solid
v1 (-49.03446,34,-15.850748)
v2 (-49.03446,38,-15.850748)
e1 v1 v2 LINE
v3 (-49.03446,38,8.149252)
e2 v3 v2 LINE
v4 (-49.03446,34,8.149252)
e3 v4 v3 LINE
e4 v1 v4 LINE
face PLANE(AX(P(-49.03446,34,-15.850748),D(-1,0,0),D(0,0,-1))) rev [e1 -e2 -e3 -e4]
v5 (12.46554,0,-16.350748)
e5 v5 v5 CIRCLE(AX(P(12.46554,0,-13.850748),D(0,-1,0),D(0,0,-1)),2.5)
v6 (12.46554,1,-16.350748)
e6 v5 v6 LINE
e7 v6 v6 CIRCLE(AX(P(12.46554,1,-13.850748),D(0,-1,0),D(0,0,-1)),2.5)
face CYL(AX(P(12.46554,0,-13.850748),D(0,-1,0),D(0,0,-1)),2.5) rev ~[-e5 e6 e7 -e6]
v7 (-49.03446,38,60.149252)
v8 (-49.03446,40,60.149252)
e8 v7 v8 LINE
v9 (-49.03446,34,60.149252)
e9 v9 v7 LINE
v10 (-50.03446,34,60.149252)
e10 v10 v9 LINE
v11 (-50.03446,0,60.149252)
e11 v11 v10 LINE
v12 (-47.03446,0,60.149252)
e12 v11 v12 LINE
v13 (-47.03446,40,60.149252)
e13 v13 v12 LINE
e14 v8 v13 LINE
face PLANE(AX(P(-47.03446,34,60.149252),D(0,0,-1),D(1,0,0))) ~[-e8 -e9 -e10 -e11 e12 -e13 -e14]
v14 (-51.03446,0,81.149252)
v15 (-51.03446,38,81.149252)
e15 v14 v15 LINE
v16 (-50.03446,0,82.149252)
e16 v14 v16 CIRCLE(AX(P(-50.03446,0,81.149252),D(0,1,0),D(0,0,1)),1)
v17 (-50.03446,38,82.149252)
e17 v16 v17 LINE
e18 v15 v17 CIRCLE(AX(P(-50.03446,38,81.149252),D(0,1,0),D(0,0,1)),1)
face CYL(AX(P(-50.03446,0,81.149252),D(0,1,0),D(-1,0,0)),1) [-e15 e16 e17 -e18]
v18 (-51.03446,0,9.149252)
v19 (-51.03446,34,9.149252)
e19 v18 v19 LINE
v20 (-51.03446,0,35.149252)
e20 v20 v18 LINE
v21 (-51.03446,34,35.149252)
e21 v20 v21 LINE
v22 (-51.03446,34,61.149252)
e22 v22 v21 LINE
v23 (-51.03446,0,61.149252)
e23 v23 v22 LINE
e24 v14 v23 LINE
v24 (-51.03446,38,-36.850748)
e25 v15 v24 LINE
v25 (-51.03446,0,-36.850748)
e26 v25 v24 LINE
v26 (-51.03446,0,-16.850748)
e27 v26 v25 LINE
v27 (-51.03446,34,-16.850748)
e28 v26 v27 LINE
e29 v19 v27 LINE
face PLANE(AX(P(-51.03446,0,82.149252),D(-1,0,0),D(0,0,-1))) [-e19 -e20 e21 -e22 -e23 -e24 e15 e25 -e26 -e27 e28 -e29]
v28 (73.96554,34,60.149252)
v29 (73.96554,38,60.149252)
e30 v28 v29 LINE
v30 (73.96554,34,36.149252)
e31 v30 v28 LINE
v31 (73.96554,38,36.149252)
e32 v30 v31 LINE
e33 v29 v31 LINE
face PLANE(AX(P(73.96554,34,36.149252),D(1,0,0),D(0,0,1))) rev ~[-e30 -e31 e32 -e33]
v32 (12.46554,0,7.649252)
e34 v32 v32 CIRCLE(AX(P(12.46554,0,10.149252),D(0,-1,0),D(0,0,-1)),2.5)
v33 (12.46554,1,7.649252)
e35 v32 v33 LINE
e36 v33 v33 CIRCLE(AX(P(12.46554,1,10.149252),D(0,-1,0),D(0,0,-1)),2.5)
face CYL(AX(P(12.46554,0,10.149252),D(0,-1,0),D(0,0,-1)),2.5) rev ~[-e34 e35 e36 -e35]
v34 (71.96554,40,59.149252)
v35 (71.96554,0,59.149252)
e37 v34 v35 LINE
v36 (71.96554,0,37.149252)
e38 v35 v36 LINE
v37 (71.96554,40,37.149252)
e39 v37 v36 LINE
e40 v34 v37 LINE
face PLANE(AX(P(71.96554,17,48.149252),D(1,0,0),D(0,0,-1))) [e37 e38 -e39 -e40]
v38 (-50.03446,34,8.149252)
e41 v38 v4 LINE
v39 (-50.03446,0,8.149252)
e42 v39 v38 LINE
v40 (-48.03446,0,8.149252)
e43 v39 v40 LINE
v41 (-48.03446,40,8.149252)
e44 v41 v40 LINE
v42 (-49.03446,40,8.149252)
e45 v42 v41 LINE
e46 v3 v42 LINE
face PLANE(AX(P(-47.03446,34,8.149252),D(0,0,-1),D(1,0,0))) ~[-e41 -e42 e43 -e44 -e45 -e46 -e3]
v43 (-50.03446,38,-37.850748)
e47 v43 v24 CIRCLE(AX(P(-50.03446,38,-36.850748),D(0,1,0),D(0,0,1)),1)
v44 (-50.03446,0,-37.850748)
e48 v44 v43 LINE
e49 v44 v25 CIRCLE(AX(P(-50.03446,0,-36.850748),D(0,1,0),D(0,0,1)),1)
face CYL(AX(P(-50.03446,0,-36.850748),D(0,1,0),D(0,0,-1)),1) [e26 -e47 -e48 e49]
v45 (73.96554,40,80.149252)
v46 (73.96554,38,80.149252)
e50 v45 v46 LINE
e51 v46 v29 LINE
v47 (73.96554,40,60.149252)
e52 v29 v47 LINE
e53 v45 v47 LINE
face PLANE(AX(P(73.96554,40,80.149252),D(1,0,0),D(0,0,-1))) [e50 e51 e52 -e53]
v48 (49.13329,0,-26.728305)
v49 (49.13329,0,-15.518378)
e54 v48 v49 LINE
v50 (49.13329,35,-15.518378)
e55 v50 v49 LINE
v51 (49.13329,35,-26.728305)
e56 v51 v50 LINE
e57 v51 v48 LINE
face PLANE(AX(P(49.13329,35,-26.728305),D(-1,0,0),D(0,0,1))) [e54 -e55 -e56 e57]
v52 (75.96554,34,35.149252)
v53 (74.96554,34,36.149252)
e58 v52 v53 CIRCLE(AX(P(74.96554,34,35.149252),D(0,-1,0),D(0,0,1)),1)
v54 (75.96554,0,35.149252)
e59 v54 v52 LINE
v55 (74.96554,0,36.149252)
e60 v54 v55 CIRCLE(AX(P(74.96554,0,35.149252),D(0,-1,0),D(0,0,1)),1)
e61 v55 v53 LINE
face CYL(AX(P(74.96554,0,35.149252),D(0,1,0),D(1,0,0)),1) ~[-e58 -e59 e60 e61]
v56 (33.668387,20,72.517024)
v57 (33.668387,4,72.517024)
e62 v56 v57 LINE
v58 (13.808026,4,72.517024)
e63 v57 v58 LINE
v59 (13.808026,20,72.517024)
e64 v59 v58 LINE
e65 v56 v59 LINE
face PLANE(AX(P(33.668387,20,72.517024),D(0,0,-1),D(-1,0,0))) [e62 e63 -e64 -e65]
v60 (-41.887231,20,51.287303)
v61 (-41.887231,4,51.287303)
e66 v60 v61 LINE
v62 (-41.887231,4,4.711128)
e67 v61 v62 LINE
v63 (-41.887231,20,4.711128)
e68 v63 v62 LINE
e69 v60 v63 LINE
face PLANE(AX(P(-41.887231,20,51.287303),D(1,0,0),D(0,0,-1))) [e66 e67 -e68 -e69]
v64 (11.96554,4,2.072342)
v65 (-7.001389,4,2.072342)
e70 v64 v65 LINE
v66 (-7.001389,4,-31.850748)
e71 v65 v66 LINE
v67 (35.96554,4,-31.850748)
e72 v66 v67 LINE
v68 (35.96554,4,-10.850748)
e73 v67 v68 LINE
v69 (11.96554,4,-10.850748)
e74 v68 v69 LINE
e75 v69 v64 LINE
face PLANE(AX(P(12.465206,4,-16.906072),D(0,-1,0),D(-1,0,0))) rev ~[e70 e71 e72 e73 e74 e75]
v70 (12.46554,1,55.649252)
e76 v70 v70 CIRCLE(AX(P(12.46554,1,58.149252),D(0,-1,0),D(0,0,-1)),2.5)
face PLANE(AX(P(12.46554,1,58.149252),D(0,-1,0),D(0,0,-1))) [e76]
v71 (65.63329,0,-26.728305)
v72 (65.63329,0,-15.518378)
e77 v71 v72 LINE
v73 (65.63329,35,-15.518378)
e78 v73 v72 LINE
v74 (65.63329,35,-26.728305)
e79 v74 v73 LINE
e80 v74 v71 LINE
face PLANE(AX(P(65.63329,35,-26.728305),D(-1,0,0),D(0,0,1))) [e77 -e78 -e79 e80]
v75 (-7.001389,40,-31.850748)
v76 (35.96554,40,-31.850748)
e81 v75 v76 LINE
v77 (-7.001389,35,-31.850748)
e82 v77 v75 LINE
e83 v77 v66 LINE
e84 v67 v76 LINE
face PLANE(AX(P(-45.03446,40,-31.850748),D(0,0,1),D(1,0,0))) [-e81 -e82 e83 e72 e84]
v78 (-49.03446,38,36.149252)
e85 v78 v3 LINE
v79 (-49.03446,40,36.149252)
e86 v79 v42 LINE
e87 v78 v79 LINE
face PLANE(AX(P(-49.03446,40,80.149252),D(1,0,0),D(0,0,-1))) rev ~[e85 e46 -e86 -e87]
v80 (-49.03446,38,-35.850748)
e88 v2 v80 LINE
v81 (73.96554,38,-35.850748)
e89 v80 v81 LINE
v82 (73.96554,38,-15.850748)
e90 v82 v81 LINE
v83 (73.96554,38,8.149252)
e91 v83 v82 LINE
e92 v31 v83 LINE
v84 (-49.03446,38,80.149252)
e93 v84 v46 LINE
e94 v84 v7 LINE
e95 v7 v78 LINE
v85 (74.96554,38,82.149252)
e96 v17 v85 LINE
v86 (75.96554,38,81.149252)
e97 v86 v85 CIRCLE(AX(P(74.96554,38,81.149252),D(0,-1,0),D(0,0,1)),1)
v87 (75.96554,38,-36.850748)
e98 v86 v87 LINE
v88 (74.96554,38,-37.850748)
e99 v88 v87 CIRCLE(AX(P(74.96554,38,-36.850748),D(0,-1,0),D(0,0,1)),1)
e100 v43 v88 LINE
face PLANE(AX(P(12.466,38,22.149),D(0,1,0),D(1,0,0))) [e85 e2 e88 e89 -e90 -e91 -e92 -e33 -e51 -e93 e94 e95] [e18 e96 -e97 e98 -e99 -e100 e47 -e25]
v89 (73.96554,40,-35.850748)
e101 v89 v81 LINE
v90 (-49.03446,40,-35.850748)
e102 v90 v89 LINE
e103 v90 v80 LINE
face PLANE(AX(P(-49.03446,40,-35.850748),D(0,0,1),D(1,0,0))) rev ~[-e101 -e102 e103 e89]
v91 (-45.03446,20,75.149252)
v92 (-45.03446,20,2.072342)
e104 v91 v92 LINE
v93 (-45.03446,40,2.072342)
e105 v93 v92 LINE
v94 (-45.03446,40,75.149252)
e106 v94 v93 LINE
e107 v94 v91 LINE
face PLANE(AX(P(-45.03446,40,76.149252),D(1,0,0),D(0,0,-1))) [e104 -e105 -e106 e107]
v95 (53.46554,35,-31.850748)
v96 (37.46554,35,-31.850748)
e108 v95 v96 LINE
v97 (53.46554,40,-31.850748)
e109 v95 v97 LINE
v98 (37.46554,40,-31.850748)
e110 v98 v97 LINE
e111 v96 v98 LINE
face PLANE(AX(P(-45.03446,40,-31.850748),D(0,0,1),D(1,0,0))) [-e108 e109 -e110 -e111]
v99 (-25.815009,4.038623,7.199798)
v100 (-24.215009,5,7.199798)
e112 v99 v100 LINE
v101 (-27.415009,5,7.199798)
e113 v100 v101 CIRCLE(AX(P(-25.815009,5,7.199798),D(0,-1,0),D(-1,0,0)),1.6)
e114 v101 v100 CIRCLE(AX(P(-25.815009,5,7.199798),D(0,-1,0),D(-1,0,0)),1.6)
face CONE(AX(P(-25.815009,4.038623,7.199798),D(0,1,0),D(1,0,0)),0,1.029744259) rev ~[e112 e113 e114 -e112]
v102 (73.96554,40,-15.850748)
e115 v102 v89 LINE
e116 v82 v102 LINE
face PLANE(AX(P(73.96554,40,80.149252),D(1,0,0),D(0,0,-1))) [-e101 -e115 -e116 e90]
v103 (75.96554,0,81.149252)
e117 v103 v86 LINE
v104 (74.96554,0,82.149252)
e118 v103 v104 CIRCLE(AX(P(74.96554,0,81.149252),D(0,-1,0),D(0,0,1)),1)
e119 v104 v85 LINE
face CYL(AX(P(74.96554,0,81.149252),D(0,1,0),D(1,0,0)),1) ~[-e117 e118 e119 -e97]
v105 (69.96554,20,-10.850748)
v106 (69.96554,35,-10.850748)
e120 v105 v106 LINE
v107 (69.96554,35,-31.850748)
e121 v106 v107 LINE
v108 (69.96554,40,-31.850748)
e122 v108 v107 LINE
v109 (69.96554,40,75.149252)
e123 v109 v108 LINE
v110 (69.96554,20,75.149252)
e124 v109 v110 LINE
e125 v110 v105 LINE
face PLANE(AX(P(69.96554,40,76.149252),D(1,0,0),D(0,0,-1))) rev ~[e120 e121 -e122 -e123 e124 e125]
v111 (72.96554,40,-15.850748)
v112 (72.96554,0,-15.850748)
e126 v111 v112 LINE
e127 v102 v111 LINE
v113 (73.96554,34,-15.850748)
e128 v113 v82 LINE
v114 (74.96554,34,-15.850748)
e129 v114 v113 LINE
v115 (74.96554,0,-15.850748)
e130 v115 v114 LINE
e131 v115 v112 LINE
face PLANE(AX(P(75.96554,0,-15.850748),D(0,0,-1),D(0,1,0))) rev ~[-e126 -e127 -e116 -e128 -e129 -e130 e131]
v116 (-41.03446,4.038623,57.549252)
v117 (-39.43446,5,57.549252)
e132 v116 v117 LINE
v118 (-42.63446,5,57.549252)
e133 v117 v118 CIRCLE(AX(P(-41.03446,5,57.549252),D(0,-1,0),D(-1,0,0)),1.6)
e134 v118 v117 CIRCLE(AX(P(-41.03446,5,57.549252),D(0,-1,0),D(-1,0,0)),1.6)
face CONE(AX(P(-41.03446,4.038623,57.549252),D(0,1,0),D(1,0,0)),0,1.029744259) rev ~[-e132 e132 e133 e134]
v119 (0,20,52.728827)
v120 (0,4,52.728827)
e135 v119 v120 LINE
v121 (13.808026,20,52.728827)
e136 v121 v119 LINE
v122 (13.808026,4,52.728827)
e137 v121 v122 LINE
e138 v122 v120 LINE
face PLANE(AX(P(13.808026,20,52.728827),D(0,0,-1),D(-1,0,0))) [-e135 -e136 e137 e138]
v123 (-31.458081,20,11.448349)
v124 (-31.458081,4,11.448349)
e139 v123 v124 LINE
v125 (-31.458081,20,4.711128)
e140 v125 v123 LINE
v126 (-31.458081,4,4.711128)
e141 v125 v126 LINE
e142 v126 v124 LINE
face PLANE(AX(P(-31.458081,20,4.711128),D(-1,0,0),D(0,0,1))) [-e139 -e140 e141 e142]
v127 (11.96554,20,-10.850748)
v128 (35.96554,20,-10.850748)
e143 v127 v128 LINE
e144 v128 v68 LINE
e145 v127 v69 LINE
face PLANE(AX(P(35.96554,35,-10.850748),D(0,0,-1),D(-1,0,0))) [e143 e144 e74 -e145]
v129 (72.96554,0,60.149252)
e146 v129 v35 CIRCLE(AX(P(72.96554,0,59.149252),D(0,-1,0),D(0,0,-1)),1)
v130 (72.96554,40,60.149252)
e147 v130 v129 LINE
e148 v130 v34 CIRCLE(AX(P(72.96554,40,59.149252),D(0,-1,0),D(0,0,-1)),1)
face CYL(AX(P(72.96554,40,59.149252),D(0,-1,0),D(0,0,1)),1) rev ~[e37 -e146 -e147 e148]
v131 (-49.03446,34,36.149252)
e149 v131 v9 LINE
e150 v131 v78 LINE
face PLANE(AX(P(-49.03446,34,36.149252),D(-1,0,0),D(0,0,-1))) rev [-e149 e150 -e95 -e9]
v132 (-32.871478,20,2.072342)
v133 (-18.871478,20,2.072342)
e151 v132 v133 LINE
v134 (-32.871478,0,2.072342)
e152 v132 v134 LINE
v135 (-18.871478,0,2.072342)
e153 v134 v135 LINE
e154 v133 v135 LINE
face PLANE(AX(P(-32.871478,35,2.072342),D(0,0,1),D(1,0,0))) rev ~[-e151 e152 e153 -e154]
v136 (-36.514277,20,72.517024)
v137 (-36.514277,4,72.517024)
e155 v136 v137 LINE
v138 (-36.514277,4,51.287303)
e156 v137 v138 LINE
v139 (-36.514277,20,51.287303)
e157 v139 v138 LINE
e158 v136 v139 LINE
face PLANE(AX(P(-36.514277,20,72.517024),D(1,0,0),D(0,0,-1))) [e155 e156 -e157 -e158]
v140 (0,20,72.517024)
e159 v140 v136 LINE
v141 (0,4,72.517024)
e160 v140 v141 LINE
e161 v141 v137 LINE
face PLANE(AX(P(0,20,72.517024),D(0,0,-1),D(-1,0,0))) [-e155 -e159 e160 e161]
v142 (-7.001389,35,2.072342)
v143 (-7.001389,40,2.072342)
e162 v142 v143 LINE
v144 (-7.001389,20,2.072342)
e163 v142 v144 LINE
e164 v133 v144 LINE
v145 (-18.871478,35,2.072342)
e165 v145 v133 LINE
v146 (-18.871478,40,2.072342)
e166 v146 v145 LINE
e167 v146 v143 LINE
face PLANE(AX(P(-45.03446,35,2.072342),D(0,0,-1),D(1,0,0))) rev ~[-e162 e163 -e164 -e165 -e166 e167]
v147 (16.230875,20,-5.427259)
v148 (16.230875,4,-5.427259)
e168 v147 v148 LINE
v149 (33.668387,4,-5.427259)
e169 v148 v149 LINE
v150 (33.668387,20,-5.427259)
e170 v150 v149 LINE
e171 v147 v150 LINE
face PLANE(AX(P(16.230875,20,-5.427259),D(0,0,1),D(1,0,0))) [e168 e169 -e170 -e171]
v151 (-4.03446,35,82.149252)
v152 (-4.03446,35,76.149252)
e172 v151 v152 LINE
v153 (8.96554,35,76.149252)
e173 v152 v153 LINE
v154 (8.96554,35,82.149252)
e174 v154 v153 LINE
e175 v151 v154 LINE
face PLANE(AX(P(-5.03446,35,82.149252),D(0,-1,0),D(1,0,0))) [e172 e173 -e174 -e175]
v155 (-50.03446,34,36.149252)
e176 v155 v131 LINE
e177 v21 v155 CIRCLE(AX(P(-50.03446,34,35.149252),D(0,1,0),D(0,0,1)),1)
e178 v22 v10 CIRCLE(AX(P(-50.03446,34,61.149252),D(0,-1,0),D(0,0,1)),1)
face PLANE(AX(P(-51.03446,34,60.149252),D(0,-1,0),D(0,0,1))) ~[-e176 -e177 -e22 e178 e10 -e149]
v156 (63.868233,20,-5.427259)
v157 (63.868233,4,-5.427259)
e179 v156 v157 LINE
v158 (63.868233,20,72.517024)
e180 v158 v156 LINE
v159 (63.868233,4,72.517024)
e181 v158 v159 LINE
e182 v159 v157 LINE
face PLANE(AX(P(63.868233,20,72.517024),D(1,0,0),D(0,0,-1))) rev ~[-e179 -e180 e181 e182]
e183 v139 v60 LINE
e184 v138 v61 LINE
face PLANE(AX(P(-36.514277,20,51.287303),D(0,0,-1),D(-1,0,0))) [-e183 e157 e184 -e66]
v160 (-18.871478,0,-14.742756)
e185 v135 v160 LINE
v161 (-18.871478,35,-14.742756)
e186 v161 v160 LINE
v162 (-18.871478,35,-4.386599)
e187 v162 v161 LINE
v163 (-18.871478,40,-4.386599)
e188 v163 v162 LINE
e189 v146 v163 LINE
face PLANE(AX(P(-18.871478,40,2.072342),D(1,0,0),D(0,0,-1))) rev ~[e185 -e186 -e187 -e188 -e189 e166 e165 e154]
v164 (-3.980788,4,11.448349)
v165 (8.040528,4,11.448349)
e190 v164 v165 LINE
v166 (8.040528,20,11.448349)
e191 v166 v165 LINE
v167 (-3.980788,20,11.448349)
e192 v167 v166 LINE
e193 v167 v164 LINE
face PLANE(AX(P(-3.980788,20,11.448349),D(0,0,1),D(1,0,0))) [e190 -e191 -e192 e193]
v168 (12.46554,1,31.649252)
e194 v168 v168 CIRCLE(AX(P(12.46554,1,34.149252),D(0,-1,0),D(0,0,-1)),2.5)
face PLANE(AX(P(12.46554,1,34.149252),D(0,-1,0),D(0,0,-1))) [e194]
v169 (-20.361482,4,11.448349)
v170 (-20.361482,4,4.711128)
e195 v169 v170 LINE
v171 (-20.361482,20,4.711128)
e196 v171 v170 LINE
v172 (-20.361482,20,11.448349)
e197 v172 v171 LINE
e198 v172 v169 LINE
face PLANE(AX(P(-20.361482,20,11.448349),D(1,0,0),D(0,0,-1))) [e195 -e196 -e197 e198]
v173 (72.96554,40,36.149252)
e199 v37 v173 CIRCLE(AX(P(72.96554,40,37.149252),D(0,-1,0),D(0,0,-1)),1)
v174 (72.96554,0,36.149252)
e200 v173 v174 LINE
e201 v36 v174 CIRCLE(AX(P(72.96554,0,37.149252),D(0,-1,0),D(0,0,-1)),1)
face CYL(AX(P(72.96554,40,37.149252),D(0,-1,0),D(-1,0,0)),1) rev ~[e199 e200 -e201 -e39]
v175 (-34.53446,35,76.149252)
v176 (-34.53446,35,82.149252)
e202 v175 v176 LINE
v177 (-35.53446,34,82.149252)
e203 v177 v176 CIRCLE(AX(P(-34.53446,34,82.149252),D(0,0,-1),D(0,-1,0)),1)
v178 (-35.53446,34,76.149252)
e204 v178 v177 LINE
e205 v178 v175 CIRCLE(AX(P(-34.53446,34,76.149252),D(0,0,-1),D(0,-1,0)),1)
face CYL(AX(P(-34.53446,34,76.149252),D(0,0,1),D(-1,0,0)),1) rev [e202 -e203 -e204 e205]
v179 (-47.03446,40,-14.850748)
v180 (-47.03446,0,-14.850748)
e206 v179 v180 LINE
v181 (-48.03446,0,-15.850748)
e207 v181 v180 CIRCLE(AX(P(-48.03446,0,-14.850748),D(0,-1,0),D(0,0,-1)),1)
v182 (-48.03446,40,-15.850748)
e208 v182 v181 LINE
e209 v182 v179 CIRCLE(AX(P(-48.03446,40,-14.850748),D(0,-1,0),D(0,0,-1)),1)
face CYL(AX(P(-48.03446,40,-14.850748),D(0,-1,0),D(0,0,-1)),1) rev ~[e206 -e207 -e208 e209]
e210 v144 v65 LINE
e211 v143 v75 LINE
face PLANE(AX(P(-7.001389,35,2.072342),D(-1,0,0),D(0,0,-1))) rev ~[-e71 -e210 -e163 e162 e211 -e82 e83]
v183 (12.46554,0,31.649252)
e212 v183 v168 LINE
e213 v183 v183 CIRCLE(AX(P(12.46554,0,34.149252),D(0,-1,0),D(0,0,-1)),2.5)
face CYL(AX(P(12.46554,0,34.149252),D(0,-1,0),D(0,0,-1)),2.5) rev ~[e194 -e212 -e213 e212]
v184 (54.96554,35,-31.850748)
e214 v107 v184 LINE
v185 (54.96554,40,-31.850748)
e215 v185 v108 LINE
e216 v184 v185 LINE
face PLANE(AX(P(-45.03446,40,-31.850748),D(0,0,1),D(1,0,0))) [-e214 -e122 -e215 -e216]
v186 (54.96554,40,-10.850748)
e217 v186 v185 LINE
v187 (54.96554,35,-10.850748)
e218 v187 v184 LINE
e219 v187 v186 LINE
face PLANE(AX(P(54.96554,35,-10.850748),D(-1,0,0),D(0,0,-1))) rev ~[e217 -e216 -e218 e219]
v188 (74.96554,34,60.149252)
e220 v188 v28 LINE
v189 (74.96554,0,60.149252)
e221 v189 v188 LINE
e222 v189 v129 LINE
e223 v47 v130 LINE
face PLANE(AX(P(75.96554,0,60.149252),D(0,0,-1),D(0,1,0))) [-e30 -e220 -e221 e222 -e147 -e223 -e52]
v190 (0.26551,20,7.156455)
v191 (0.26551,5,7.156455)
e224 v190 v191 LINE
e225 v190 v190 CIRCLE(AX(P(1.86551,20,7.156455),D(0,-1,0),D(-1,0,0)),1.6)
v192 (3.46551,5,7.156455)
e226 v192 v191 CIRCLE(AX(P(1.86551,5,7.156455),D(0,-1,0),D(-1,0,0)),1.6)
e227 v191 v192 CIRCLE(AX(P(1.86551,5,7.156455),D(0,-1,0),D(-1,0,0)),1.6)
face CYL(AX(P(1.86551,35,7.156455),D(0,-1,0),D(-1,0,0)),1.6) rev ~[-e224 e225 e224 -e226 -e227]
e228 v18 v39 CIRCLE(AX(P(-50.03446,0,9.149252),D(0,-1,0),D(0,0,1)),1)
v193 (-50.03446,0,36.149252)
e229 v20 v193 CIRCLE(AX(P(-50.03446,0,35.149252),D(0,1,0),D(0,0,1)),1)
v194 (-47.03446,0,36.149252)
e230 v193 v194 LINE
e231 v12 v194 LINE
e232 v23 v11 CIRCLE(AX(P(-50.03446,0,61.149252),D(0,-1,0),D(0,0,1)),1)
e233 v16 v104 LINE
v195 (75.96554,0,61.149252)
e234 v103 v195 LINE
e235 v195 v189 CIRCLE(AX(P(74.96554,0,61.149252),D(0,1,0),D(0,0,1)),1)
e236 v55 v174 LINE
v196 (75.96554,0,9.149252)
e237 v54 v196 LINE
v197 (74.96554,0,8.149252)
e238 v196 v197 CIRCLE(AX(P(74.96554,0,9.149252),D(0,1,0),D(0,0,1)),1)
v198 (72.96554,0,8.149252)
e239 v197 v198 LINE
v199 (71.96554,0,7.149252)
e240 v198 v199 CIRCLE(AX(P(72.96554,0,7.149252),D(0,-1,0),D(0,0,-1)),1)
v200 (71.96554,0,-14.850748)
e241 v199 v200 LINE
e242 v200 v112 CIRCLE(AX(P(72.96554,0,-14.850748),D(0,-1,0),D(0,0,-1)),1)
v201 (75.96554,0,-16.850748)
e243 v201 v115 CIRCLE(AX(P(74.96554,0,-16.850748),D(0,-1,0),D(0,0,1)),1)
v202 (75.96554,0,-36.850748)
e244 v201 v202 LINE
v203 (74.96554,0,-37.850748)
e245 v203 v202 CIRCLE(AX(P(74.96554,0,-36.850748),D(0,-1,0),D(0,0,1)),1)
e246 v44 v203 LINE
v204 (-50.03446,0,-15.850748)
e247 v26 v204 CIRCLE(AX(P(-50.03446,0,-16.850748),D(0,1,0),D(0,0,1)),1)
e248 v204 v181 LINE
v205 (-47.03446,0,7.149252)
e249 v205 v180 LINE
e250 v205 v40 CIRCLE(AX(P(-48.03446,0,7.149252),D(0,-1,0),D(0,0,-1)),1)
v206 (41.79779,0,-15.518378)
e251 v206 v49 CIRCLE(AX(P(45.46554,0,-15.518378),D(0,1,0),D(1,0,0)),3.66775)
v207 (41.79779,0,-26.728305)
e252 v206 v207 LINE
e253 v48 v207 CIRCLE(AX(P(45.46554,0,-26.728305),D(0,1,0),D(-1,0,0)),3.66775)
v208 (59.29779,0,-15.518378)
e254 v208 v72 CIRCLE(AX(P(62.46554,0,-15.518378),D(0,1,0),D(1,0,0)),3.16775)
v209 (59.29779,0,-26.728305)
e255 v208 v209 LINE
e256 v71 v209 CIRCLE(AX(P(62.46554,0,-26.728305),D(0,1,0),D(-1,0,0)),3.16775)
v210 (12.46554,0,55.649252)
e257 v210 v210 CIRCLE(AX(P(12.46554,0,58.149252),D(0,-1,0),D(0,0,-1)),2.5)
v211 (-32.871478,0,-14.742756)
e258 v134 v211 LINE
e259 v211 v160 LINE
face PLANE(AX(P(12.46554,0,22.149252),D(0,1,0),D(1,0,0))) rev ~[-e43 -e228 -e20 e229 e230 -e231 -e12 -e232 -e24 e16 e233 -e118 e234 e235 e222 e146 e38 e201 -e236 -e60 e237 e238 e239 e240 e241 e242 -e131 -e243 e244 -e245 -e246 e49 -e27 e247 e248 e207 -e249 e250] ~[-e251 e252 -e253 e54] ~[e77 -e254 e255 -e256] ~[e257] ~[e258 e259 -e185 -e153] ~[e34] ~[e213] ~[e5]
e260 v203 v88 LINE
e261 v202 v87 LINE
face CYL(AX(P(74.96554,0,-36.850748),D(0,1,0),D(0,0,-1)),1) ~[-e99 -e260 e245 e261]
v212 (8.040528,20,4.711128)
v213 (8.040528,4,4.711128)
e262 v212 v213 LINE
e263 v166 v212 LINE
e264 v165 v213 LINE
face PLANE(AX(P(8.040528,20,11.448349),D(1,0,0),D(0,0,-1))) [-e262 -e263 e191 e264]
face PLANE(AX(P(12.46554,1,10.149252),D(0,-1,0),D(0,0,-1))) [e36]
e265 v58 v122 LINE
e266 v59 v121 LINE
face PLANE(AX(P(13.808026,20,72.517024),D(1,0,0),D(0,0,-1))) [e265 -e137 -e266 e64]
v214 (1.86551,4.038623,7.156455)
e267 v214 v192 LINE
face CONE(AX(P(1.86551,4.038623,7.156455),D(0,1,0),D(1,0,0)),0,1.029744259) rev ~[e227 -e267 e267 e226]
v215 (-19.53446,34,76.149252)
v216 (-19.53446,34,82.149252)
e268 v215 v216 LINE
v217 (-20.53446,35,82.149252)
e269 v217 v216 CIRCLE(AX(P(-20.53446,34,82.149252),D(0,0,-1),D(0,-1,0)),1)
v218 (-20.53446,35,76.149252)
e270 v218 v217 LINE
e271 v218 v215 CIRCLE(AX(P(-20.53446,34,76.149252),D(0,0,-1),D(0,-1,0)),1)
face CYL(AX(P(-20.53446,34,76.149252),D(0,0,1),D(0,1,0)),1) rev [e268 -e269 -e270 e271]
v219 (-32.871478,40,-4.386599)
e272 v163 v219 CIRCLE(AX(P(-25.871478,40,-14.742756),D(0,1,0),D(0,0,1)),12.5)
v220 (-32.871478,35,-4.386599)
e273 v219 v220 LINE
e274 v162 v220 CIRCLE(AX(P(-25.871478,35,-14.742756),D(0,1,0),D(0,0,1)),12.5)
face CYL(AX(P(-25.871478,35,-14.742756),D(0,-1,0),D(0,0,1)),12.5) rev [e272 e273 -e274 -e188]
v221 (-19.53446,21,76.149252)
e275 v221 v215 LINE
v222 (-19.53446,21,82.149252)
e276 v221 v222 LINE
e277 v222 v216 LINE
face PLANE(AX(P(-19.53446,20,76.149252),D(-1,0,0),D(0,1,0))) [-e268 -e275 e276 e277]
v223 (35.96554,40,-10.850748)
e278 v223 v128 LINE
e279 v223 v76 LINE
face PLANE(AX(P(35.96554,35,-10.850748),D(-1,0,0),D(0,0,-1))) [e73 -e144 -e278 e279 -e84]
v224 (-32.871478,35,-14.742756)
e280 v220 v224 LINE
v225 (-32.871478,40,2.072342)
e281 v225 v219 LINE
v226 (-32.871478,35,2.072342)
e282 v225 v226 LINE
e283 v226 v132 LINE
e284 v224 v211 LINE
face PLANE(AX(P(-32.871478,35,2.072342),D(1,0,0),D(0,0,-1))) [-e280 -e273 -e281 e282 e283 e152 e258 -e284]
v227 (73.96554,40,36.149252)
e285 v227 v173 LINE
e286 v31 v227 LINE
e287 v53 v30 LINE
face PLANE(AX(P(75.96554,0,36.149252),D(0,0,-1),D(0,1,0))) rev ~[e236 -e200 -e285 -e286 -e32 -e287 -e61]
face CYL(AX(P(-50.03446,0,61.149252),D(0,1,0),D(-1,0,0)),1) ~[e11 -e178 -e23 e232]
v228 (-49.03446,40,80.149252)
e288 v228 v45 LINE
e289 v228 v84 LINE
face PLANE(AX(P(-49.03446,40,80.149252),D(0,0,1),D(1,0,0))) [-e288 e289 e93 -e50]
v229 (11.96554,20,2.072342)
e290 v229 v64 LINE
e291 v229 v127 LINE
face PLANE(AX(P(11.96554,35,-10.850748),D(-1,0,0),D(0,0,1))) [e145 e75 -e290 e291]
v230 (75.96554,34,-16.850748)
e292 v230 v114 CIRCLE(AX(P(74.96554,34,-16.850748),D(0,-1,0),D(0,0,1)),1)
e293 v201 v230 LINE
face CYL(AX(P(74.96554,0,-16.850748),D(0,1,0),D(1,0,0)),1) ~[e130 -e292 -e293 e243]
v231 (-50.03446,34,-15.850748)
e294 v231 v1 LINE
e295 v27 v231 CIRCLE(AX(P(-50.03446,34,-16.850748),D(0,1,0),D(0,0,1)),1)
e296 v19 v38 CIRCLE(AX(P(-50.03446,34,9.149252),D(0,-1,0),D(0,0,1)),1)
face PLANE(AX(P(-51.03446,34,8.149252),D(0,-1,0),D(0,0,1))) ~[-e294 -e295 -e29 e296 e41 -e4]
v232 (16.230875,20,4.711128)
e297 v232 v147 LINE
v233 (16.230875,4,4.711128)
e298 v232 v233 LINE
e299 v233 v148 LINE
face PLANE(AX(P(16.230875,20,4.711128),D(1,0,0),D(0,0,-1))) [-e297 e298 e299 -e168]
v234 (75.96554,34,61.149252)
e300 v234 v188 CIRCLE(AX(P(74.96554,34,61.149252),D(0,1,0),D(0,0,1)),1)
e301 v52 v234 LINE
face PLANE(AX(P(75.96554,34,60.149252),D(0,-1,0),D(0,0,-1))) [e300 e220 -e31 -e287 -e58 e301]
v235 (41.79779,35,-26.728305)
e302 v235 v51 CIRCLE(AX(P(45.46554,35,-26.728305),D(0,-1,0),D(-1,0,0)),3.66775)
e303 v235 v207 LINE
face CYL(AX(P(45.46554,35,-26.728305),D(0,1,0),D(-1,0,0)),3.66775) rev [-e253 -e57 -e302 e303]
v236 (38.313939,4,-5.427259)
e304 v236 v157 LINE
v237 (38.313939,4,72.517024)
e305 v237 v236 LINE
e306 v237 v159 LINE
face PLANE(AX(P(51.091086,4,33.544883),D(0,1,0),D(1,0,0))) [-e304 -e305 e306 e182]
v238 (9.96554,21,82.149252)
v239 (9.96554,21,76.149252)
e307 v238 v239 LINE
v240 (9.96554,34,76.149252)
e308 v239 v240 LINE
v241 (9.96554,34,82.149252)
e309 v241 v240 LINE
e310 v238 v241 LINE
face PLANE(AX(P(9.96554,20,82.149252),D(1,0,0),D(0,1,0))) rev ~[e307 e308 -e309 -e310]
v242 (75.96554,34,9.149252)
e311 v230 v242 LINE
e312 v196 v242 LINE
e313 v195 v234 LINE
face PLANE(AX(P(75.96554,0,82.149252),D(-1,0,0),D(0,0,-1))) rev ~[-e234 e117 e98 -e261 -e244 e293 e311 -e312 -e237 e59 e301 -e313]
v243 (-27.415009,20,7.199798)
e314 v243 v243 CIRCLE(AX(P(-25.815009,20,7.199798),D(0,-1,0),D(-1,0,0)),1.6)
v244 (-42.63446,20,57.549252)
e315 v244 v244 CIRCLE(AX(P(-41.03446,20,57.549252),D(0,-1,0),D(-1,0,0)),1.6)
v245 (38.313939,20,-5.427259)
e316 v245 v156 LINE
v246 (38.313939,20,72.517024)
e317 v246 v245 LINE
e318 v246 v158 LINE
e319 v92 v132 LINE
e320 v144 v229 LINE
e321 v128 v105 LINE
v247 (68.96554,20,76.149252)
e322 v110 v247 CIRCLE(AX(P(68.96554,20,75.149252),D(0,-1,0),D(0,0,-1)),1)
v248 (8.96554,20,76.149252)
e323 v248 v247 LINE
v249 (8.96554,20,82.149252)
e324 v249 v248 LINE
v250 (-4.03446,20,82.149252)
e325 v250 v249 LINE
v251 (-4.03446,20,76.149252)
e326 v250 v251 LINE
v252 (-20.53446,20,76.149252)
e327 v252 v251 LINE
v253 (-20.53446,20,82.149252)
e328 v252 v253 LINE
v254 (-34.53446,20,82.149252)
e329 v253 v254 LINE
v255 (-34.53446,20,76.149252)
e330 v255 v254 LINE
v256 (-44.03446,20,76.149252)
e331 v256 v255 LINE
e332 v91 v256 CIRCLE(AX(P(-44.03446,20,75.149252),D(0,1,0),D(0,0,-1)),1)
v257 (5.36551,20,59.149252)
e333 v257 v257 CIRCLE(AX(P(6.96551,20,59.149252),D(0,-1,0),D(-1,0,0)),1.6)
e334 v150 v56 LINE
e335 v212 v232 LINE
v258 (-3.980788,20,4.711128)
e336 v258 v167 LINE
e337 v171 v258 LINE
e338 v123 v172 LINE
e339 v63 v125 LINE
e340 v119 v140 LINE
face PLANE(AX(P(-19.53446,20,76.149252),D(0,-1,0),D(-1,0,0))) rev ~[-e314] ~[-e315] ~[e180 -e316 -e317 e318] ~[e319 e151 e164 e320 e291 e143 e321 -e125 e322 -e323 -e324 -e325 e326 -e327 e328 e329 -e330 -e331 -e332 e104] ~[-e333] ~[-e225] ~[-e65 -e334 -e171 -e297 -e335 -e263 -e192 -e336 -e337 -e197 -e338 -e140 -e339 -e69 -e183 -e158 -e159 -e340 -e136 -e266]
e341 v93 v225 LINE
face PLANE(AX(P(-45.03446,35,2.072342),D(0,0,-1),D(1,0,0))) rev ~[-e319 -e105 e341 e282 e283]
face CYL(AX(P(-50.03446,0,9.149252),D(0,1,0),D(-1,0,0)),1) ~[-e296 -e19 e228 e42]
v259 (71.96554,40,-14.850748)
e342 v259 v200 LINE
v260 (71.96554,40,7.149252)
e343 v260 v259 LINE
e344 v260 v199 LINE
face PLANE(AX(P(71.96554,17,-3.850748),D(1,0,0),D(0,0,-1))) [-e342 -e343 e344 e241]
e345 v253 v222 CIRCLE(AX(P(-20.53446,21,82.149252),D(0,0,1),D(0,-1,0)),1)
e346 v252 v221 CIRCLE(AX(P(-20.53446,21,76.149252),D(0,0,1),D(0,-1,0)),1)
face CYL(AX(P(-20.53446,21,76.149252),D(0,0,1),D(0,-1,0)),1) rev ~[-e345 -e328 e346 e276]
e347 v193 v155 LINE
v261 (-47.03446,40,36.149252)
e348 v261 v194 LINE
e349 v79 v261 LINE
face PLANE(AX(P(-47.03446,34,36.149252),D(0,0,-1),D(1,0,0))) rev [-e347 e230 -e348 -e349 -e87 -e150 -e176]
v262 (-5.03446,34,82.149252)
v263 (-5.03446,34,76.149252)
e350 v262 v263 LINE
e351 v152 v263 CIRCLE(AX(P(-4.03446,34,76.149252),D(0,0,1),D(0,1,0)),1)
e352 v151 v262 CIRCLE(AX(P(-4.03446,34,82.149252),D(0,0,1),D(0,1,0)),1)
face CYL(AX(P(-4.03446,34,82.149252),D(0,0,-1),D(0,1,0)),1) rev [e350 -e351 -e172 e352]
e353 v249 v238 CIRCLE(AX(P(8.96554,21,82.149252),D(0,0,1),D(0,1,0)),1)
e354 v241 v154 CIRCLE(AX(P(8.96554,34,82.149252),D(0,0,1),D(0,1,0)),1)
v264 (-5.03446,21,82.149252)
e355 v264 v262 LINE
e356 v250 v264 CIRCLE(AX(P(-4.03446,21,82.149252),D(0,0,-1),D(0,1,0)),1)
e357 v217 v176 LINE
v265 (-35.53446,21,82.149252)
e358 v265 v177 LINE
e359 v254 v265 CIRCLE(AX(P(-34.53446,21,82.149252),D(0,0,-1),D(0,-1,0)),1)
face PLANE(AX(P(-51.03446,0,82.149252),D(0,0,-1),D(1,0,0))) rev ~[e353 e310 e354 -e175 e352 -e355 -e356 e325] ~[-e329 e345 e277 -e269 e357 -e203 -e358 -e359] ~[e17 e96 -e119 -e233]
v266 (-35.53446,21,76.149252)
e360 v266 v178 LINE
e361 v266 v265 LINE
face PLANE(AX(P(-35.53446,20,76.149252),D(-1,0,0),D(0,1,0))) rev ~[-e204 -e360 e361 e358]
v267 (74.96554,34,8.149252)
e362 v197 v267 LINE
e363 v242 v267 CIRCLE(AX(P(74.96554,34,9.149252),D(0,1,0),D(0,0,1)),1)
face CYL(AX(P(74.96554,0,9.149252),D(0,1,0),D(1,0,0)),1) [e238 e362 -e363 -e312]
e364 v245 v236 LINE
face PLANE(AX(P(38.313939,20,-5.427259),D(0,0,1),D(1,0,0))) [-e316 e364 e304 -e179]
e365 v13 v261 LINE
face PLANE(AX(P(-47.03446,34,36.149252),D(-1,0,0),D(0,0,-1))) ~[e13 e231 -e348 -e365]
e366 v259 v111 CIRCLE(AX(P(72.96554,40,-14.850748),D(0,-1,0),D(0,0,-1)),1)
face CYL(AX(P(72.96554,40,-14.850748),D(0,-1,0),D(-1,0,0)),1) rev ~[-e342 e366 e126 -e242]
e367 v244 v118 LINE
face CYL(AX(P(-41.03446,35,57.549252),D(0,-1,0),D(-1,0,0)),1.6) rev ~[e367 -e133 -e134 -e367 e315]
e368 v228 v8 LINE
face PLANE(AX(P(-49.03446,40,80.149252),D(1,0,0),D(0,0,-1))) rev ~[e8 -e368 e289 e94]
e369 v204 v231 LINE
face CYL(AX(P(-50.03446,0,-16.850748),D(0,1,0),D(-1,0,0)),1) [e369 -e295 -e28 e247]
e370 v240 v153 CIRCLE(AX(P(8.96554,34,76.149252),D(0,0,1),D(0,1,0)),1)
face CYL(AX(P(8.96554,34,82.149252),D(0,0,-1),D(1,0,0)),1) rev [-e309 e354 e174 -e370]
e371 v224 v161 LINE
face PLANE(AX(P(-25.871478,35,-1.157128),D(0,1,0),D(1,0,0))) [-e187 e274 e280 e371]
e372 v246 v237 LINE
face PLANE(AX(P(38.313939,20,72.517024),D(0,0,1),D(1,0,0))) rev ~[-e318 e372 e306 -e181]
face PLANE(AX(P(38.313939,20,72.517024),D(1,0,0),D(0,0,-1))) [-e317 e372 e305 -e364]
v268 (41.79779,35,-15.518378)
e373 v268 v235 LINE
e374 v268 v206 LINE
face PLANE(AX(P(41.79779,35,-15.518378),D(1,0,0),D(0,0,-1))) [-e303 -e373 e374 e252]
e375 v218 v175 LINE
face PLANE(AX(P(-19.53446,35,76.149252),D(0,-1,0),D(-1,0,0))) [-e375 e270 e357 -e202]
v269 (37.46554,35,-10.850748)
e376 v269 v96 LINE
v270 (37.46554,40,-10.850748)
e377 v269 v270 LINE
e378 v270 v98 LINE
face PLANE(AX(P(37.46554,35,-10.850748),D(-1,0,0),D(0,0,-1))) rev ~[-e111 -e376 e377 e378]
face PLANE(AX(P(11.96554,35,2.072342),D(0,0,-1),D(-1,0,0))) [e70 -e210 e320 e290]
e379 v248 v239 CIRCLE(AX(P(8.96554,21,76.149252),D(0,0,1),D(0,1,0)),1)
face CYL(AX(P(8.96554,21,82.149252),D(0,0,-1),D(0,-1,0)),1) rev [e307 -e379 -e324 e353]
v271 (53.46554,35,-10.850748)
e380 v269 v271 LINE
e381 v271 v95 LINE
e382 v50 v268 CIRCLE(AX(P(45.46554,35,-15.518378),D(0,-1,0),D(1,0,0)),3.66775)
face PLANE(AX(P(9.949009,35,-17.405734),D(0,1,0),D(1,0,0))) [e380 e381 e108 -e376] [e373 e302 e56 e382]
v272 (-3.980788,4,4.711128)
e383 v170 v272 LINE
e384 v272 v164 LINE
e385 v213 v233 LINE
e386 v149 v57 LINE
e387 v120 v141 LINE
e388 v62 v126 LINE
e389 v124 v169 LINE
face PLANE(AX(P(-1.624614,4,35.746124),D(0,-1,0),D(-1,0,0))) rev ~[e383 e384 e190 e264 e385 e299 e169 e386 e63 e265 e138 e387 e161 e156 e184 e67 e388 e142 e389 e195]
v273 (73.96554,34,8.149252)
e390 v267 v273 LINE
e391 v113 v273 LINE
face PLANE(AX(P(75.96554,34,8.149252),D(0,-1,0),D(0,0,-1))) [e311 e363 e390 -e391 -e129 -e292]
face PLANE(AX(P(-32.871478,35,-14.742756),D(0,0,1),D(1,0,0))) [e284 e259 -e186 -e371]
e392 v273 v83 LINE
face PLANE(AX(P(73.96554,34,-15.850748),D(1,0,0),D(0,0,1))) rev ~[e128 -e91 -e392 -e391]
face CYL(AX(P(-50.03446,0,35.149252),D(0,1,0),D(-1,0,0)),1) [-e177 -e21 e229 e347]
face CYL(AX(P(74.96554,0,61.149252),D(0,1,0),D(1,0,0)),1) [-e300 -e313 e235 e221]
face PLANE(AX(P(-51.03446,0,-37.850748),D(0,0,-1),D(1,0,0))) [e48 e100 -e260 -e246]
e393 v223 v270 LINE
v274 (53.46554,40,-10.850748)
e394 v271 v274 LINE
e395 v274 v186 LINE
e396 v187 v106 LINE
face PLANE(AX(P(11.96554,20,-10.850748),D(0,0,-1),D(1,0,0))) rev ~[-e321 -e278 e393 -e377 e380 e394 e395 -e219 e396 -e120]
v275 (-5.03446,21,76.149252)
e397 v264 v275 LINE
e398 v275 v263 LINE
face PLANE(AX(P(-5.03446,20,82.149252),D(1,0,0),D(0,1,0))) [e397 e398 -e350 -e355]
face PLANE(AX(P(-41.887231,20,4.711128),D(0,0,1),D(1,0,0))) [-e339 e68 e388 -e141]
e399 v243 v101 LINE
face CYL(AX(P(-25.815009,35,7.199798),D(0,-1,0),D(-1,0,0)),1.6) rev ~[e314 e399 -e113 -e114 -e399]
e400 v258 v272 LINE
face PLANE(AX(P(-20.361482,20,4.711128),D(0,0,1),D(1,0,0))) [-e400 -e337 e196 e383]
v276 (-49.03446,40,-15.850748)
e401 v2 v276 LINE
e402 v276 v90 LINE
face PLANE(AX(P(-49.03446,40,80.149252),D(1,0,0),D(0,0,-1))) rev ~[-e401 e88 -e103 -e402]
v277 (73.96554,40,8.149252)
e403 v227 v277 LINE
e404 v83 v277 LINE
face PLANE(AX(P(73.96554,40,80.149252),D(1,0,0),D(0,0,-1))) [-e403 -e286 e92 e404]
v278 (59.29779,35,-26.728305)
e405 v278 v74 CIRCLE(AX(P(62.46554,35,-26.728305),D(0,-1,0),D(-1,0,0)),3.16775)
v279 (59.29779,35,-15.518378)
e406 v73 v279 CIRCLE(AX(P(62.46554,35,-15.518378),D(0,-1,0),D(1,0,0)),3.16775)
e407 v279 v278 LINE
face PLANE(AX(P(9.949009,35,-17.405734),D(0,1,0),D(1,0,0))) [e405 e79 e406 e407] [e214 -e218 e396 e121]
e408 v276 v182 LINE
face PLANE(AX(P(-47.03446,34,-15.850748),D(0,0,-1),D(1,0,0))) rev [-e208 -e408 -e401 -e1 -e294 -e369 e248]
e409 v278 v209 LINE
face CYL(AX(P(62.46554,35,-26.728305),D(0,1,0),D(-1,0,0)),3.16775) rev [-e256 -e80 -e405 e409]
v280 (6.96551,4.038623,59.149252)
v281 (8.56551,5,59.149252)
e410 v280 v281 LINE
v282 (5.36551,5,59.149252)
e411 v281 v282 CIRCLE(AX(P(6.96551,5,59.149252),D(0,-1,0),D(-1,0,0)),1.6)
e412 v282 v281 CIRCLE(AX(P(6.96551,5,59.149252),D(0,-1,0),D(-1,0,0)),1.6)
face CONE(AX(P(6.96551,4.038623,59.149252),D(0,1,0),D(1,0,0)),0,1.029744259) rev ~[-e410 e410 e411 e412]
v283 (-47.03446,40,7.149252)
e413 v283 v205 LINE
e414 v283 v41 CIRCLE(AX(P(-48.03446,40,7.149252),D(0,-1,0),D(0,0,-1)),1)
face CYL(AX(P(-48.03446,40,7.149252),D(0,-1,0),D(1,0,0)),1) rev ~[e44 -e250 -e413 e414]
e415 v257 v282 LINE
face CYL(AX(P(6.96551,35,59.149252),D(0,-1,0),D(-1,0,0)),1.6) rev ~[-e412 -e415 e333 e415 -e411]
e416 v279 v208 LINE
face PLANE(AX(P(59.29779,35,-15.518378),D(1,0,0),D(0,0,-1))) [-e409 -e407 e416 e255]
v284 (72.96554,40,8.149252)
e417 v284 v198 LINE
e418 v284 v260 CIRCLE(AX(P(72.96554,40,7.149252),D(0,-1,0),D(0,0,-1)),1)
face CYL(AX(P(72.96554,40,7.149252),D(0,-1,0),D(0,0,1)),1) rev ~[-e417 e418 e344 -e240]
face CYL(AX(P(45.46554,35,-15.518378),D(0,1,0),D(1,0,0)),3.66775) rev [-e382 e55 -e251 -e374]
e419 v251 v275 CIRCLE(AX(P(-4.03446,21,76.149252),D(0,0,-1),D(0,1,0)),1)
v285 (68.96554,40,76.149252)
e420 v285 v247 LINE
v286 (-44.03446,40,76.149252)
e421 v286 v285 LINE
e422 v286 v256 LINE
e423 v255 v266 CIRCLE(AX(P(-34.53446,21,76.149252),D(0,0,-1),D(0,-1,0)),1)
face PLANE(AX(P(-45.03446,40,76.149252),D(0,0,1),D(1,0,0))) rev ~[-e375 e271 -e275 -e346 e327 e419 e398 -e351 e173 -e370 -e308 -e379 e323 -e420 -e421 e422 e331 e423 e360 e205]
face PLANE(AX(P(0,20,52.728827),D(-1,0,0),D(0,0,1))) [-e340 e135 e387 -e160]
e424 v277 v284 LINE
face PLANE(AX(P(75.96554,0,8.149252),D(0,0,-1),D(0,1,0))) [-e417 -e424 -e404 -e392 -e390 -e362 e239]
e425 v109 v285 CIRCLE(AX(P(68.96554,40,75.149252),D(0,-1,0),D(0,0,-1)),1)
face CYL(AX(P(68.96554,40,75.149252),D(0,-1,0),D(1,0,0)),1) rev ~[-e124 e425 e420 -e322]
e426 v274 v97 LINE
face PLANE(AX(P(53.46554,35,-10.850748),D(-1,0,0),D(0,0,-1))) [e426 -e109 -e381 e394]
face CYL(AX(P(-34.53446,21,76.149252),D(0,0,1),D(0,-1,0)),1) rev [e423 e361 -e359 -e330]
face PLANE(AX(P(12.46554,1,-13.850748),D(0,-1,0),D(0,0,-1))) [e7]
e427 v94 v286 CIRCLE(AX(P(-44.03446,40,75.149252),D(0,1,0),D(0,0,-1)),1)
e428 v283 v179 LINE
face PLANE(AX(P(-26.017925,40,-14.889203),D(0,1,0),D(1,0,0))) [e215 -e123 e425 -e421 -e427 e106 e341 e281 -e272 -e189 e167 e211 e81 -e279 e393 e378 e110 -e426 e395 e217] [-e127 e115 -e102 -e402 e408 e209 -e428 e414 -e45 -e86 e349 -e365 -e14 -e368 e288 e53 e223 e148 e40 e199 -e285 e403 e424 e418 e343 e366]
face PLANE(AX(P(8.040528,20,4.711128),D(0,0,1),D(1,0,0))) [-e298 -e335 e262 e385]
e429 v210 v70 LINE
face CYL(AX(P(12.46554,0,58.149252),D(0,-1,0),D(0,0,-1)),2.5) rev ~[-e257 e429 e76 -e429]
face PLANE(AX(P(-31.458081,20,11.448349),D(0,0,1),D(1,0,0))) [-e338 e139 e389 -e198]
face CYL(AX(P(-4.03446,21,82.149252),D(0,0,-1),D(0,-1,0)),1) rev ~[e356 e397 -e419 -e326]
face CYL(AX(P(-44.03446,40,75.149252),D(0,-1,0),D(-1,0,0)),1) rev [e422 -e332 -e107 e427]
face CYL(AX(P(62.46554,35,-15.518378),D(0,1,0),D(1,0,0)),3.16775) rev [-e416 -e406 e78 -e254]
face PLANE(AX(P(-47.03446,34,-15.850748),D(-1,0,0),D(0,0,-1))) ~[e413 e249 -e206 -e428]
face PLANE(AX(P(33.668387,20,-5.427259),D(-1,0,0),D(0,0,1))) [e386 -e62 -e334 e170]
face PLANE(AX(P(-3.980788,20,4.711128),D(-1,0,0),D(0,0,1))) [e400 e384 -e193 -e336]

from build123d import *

# Parameters (mm, degrees)
CROQUIS1_W                       = 127
CROQUIS1_H                       = 120
SALIENTE_EXTRUIR1_DEPTH          = 40
CROQUIS2_W                       = 115
CROQUIS2_H                       = 108
CORTAR_EXTRUIR1_DEPTH            = 20
CROQUIS15_W                      = 16
CROQUIS15_H                      = 15
CORTAR_EXTRUIR3_DEPTH            = 14
REDONDEO4_R                      = 1
REDONDEO5_R                      = 1
TALADRO_DE_MARGEN_PARA_M31_D     = 3.2
TALADRO_DE_MARGEN_PARA_M31_DEPTH = 15
TALADRO_DE_MARGEN_PARA_M31_TIP   = 0.96137699
SALIENTE_EXTRUIR4_DEPTH          = 15
CROQUIS22_W                      = 1.5
CROQUIS22_H                      = 21
SALIENTE_EXTRUIR5_DEPTH          = 5
CROQUIS24_W                      = 38.033070537
CROQUIS24_H                      = 33.923090476
CROQUIS24_R                      = 12.5
SALIENTE_EXTRUIR8_DEPTH          = 5
CROQUIS25_W                      = 14
CROQUIS25_H                      = 6.45894104
CORTAR_EXTRUIR4_DEPTH            = 5
CROQUIS27_W                      = 14
CROQUIS27_H                      = 16.815098629
CORTAR_EXTRUIR5_DEPTH            = 84.1
CROQUIS28_W                      = 15
CROQUIS28_H                      = 15
CORTAR_EXTRUIR6_DEPTH            = 10
REDONDEO7_R                      = 1
CROQUIS32_OUTSIDE_W              = 164.85
CROQUIS32_OUTSIDE_H              = 157.85
CROQUIS32_OUTSIDE_W_2            = 123
CROQUIS32_OUTSIDE_H_2            = 116
CORTAR_EXTRUIR7_DEPTH            = 2
CROQUIS34_W                      = 24
CROQUIS34_H                      = 34
CORTAR_EXTRUIR8_DEPTH            = 4
CROQUIS35_W                      = 2
CROQUIS35_H                      = 24
CORTAR_EXTRUIR9_DEPTH            = 20
REDONDEO13_R                     = 1
REDONDEO19_R                     = 1
REDONDEO14_R                     = 1
CROQUIS36_R                      = 2.5
CORTAR_EXTRUIR10_DEPTH           = 1
CORTAR_EXTRUIR14_DEPTH           = 39
CROQUIS45_W                      = 25.554294357
CROQUIS45_H                      = 77.944282849
CORTAR_EXTRUIR15_DEPTH           = 16
CORTAR_EXTRUIR16_DEPTH           = 31


with BuildPart() as part:
    # Croquis1 → Saliente-Extruir1 (new body)
    with BuildSketch(Plane(origin=(0, 0, 0), x_dir=(1, 0, 0), z_dir=(0, 1, 0))):
        with Locations((12.465540006, -22.149251677)):
            Rectangle(CROQUIS1_W, CROQUIS1_H)
    extrude(amount=SALIENTE_EXTRUIR1_DEPTH)

    # Croquis2 → Cortar-Extruir1 (cut)
    with BuildSketch(Plane(origin=(0, 40, 0), x_dir=(1, 0, 0), z_dir=(0, 1, 0))):
        with Locations((12.465540006, -22.149251677)):
            Rectangle(CROQUIS2_W, CROQUIS2_H)
    extrude(amount=-CORTAR_EXTRUIR1_DEPTH, mode=Mode.SUBTRACT)

    # Croquis15 → Cortar-Extruir3 (cut)
    with BuildSketch(Plane(origin=(0, 0, 76.149251677), x_dir=(-1, 0, 0), z_dir=(0, 0, -1))):
        with Locations((27.534459994, 27.5)):
            Rectangle(CROQUIS15_W, CROQUIS15_H)
    extrude(amount=-CORTAR_EXTRUIR3_DEPTH, mode=Mode.SUBTRACT)

    # Redondeo4
    redondeo4_edges = [part.edges().sort_by_distance(p)[0] for p in [
        (-35.534459994, 35, 79.149251677),
        (-35.534459994, 20, 79.149251677),
        (-19.534459994, 20, 79.149251677),
        (-19.534459994, 35, 79.149251677),
    ]]
    fillet(redondeo4_edges, radius=REDONDEO4_R)

    # Redondeo5
    redondeo5_edges = [part.edges().sort_by_distance(p)[0] for p in [
        (-45.034459994, 30, 76.149251677),
        (69.965540006, 30, 76.149251677),
    ]]
    fillet(redondeo5_edges, radius=REDONDEO5_R)

    # Taladro de margen para M31
    with Locations(Plane(origin=(0, 20, 0), x_dir=(1, 0, 0), z_dir=(0, 1, 0))):
        with Locations((-41.034459994, -57.549251677), (6.965509678, -59.149251677), (-25.815009056, -7.199797633), (1.865509678, -7.156454516)):
            Hole(TALADRO_DE_MARGEN_PARA_M31_D / 2, depth=TALADRO_DE_MARGEN_PARA_M31_DEPTH)
            with Locations((0, 0, -(TALADRO_DE_MARGEN_PARA_M31_DEPTH + TALADRO_DE_MARGEN_PARA_M31_TIP / 2))):  # 118° drill point
                Cone(0, TALADRO_DE_MARGEN_PARA_M31_D / 2, TALADRO_DE_MARGEN_PARA_M31_TIP, mode=Mode.SUBTRACT)

    # Croquis21 → Saliente-Extruir4 (add)
    with BuildSketch(Plane(origin=(0, 20, 0), x_dir=(1, 0, 0), z_dir=(0, 1, 0))):
        Polygon((-45.034459994, -2.072342153), (11.965540006, -2.072342153), (11.965540006, 10.850748323), (69.965540006, 10.850748323), (69.965540006, 31.850748323), (-45.034459994, 31.850748323), align=None)
    extrude(amount=SALIENTE_EXTRUIR4_DEPTH)

    # Croquis22 → Saliente-Extruir5 (add)
    with BuildSketch(Plane(origin=(0, 35, 0), x_dir=(1, 0, 0), z_dir=(0, 1, 0))):
        with Locations((54.215540006, 21.350748323)):
            Rectangle(CROQUIS22_W, CROQUIS22_H)
        with Locations((36.715540006, 21.350748323)):
            Rectangle(CROQUIS22_W, CROQUIS22_H)
    extrude(amount=SALIENTE_EXTRUIR5_DEPTH)

    # Croquis24 → Saliente-Extruir8 (add)
    with BuildSketch(Plane(origin=(0, 35, 0), x_dir=(1, 0, 0), z_dir=(0, 1, 0))):
        with Locations((-26.017924726, 14.889203085)):
            Rectangle(CROQUIS24_W, CROQUIS24_H)
        with Locations(Location((-25.871478116, 14.742756476, 0), (0, 0, 270))):
            Circle(CROQUIS24_R, mode=Mode.SUBTRACT)
    extrude(amount=SALIENTE_EXTRUIR8_DEPTH)

    # Croquis25 → Cortar-Extruir4 (cut)
    with BuildSketch(Plane(origin=(0, 40, 0), x_dir=(1, 0, 0), z_dir=(0, 1, 0))):
        with Locations((-25.871478116, 1.157128367)):
            Rectangle(CROQUIS25_W, CROQUIS25_H)
    extrude(amount=-CORTAR_EXTRUIR4_DEPTH, mode=Mode.SUBTRACT)

    # Croquis27 → Cortar-Extruir5 (cut)
    with BuildSketch(Plane(origin=(0, 35, 0), x_dir=(1, 0, 0), z_dir=(0, 1, 0))):
        with Locations((-25.871478116, 6.335207161)):
            Rectangle(CROQUIS27_W, CROQUIS27_H)
    extrude(amount=-CORTAR_EXTRUIR5_DEPTH, mode=Mode.SUBTRACT)

    # Croquis28 → Cortar-Extruir6 (cut)
    with BuildSketch(Plane.XY.offset(82.149251677)):
        with Locations((2.465540006, 27.5)):
            Rectangle(CROQUIS28_W, CROQUIS28_H)
    extrude(amount=-CORTAR_EXTRUIR6_DEPTH, mode=Mode.SUBTRACT)

    # Redondeo7
    redondeo7_edges = [part.edges().sort_by_distance(p)[0] for p in [
        (-5.034459994, 20, 79.149251677),
        (-5.034459994, 35, 79.149251677),
        (9.965540006, 35, 79.149251677),
        (9.965540006, 20, 79.149251677),
    ]]
    fillet(redondeo7_edges, radius=REDONDEO7_R)

    # Croquis32 outside → Cortar-Extruir7 (cut)
    with BuildSketch(Plane(origin=(0, 40, 0), x_dir=(1, 0, 0), z_dir=(0, 1, 0))):
        with Locations((12.466, -22.149)):
            Rectangle(CROQUIS32_OUTSIDE_W, CROQUIS32_OUTSIDE_H)
        with Locations((12.465540006, -22.149251677)):
            Rectangle(CROQUIS32_OUTSIDE_W_2, CROQUIS32_OUTSIDE_H_2, mode=Mode.SUBTRACT)
    extrude(amount=-CORTAR_EXTRUIR7_DEPTH, mode=Mode.SUBTRACT)

    # Croquis34 → Cortar-Extruir8 (cut)
    with BuildSketch(Plane(origin=(75.965540006, 0, 0), x_dir=(0, 0, -1), z_dir=(1, 0, 0))):
        with Locations((-48.149251677, 17)):
            Rectangle(CROQUIS34_W, CROQUIS34_H)
        with Locations((3.850748323, 17)):
            Rectangle(CROQUIS34_W, CROQUIS34_H)
    cortar_extruir8 = extrude(amount=-CORTAR_EXTRUIR8_DEPTH, mode=Mode.SUBTRACT)

    # Croquis35 → Cortar-Extruir9 (cut)
    with BuildSketch(Plane.XZ.offset(-34)):
        with Locations((72.965540006, 48.149251677)):
            Rectangle(CROQUIS35_W, CROQUIS35_H)
        with Locations((72.965540006, -3.850748323)):
            Rectangle(CROQUIS35_W, CROQUIS35_H)
    cortar_extruir9 = extrude(amount=-CORTAR_EXTRUIR9_DEPTH, mode=Mode.SUBTRACT)

    # Redondeo13
    redondeo13_edges = [part.edges().sort_by_distance(p)[0] for p in [
        (71.965540006, 20, 60.149251677),
        (71.965540006, 20, 36.149251677),
        (75.965540006, 17, 60.149251677),
        (75.965540006, 17, 36.149251677),
        (71.965540006, 20, 8.149251677),
        (71.965540006, 20, -15.850748323),
        (75.965540006, 17, 8.149251677),
        (75.965540006, 17, -15.850748323),
    ]]
    fillet(redondeo13_edges, radius=REDONDEO13_R)

    # Simetría2: Cortar-Extruir8, Cortar-Extruir9 across plane
    add(cortar_extruir8.mirror(Plane(origin=(12.465540006, 0, 0), x_dir=(0, 0, 1), z_dir=(1, 0, 0))), mode=Mode.SUBTRACT)
    add(cortar_extruir9.mirror(Plane(origin=(12.465540006, 0, 0), x_dir=(0, 0, 1), z_dir=(1, 0, 0))), mode=Mode.SUBTRACT)

    # Redondeo19
    redondeo19_edges = [part.edges().sort_by_distance(p)[0] for p in [
        (-51.034459994, 17, 60.149251677),
        (-51.034459994, 17, 36.149251677),
        (-51.034459994, 17, 8.149251677),
        (-51.034459994, 17, -15.850748323),
        (-47.034459994, 20, 8.149251677),
        (-47.034459994, 20, -15.850748323),
    ]]
    fillet(redondeo19_edges, radius=REDONDEO19_R)

    # Redondeo14
    redondeo14_edges = [part.edges().sort_by_distance(p)[0] for p in [
        (-51.034459994, 19, 82.149251677),
        (-51.034459994, 19, -37.850748323),
        (75.965540006, 19, -37.850748323),
        (75.965540006, 19, 82.149251677),
    ]]
    fillet(redondeo14_edges, radius=REDONDEO14_R)

    # Croquis36 → Cortar-Extruir10 (cut)
    with BuildSketch(Plane(origin=(0, 0, 0), x_dir=(-1, 0, 0), z_dir=(0, -1, 0))):
        with Locations(Location((-12.465540006, -58.149251677, 0), (0, 0, 90))):
            Circle(CROQUIS36_R)
        with Locations(Location((-12.465540006, 13.850748323, 0), (0, 0, 90))):
            Circle(CROQUIS36_R)
        with Locations(Location((-12.465540006, -10.149251677, 0), (0, 0, 90))):
            Circle(CROQUIS36_R)
        with Locations(Location((-12.465540006, -34.149251677, 0), (0, 0, 90))):
            Circle(CROQUIS36_R)
    extrude(amount=-CORTAR_EXTRUIR10_DEPTH, mode=Mode.SUBTRACT)

    # Croquis44 → Cortar-Extruir14 (cut)
    with BuildSketch(Plane(origin=(0, 35, 0), x_dir=(1, 0, 0), z_dir=(0, 1, 0))):
        with BuildLine():
            Line((49.133290382, 26.728304647), (49.133290382, 15.518377593))
            ThreePointArc((49.133290382, 15.518377593), (45.465540006, 11.850627217), (41.797789631, 15.518377593))
            Line((41.797789631, 15.518377593), (41.797789631, 26.728304647))
            ThreePointArc((41.797789631, 26.728304647), (45.465540006, 30.396055022), (49.133290382, 26.728304647))
        make_face()
        with BuildLine():
            Line((65.633290382, 26.728304647), (65.633290382, 15.518377593))
            ThreePointArc((65.633290382, 15.518377593), (62.465540006, 12.350627217), (59.297789631, 15.518377593))
            Line((59.297789631, 15.518377593), (59.297789631, 26.728304647))
            ThreePointArc((59.297789631, 26.728304647), (62.465540006, 29.896055022), (65.633290382, 26.728304647))
        make_face()
    extrude(amount=-CORTAR_EXTRUIR14_DEPTH, mode=Mode.SUBTRACT)

    # Croquis45 → Cortar-Extruir15 (cut)
    with BuildSketch(Plane(origin=(0, 20, 0), x_dir=(1, 0, 0), z_dir=(0, 1, 0))):
        Polygon((-31.458080568, -4.711128446), (-31.458080568, -11.448349249), (-20.361481599, -11.448349249), (-20.361481599, -4.711128446), (-3.980787883, -4.711128446), (-3.980787883, -11.448349249), (8.040527667, -11.448349249), (8.040527667, -4.711128446), (16.230874525, -4.711128446), (16.230874525, 5.427258738), (33.668387191, 5.427258738), (33.668387191, -72.517024111), (13.808026092, -72.517024111), (13.808026092, -52.728826942), (0, -52.728826942), (0, -72.517024111), (-36.514276642, -72.517024111), (-36.514276642, -51.287302645), (-41.88723084, -51.287302645), (-41.88723084, -4.711128446), align=None)
        with Locations((51.091086321, -33.544882686)):
            Rectangle(CROQUIS45_W, CROQUIS45_H)
    extrude(amount=-CORTAR_EXTRUIR15_DEPTH, mode=Mode.SUBTRACT)

    # Croquis46 → Cortar-Extruir16 (cut)
    with BuildSketch(Plane(origin=(0, 35, 0), x_dir=(1, 0, 0), z_dir=(0, 1, 0))):
        Polygon((-7.001389457, 31.850748323), (35.965540006, 31.850748323), (35.965540006, 10.850748323), (11.965540006, 10.850748323), (11.965540006, -2.072342153), (-7.001389457, -2.072342153), align=None)
    extrude(amount=-CORTAR_EXTRUIR16_DEPTH, mode=Mode.SUBTRACT)


solid = part.part
